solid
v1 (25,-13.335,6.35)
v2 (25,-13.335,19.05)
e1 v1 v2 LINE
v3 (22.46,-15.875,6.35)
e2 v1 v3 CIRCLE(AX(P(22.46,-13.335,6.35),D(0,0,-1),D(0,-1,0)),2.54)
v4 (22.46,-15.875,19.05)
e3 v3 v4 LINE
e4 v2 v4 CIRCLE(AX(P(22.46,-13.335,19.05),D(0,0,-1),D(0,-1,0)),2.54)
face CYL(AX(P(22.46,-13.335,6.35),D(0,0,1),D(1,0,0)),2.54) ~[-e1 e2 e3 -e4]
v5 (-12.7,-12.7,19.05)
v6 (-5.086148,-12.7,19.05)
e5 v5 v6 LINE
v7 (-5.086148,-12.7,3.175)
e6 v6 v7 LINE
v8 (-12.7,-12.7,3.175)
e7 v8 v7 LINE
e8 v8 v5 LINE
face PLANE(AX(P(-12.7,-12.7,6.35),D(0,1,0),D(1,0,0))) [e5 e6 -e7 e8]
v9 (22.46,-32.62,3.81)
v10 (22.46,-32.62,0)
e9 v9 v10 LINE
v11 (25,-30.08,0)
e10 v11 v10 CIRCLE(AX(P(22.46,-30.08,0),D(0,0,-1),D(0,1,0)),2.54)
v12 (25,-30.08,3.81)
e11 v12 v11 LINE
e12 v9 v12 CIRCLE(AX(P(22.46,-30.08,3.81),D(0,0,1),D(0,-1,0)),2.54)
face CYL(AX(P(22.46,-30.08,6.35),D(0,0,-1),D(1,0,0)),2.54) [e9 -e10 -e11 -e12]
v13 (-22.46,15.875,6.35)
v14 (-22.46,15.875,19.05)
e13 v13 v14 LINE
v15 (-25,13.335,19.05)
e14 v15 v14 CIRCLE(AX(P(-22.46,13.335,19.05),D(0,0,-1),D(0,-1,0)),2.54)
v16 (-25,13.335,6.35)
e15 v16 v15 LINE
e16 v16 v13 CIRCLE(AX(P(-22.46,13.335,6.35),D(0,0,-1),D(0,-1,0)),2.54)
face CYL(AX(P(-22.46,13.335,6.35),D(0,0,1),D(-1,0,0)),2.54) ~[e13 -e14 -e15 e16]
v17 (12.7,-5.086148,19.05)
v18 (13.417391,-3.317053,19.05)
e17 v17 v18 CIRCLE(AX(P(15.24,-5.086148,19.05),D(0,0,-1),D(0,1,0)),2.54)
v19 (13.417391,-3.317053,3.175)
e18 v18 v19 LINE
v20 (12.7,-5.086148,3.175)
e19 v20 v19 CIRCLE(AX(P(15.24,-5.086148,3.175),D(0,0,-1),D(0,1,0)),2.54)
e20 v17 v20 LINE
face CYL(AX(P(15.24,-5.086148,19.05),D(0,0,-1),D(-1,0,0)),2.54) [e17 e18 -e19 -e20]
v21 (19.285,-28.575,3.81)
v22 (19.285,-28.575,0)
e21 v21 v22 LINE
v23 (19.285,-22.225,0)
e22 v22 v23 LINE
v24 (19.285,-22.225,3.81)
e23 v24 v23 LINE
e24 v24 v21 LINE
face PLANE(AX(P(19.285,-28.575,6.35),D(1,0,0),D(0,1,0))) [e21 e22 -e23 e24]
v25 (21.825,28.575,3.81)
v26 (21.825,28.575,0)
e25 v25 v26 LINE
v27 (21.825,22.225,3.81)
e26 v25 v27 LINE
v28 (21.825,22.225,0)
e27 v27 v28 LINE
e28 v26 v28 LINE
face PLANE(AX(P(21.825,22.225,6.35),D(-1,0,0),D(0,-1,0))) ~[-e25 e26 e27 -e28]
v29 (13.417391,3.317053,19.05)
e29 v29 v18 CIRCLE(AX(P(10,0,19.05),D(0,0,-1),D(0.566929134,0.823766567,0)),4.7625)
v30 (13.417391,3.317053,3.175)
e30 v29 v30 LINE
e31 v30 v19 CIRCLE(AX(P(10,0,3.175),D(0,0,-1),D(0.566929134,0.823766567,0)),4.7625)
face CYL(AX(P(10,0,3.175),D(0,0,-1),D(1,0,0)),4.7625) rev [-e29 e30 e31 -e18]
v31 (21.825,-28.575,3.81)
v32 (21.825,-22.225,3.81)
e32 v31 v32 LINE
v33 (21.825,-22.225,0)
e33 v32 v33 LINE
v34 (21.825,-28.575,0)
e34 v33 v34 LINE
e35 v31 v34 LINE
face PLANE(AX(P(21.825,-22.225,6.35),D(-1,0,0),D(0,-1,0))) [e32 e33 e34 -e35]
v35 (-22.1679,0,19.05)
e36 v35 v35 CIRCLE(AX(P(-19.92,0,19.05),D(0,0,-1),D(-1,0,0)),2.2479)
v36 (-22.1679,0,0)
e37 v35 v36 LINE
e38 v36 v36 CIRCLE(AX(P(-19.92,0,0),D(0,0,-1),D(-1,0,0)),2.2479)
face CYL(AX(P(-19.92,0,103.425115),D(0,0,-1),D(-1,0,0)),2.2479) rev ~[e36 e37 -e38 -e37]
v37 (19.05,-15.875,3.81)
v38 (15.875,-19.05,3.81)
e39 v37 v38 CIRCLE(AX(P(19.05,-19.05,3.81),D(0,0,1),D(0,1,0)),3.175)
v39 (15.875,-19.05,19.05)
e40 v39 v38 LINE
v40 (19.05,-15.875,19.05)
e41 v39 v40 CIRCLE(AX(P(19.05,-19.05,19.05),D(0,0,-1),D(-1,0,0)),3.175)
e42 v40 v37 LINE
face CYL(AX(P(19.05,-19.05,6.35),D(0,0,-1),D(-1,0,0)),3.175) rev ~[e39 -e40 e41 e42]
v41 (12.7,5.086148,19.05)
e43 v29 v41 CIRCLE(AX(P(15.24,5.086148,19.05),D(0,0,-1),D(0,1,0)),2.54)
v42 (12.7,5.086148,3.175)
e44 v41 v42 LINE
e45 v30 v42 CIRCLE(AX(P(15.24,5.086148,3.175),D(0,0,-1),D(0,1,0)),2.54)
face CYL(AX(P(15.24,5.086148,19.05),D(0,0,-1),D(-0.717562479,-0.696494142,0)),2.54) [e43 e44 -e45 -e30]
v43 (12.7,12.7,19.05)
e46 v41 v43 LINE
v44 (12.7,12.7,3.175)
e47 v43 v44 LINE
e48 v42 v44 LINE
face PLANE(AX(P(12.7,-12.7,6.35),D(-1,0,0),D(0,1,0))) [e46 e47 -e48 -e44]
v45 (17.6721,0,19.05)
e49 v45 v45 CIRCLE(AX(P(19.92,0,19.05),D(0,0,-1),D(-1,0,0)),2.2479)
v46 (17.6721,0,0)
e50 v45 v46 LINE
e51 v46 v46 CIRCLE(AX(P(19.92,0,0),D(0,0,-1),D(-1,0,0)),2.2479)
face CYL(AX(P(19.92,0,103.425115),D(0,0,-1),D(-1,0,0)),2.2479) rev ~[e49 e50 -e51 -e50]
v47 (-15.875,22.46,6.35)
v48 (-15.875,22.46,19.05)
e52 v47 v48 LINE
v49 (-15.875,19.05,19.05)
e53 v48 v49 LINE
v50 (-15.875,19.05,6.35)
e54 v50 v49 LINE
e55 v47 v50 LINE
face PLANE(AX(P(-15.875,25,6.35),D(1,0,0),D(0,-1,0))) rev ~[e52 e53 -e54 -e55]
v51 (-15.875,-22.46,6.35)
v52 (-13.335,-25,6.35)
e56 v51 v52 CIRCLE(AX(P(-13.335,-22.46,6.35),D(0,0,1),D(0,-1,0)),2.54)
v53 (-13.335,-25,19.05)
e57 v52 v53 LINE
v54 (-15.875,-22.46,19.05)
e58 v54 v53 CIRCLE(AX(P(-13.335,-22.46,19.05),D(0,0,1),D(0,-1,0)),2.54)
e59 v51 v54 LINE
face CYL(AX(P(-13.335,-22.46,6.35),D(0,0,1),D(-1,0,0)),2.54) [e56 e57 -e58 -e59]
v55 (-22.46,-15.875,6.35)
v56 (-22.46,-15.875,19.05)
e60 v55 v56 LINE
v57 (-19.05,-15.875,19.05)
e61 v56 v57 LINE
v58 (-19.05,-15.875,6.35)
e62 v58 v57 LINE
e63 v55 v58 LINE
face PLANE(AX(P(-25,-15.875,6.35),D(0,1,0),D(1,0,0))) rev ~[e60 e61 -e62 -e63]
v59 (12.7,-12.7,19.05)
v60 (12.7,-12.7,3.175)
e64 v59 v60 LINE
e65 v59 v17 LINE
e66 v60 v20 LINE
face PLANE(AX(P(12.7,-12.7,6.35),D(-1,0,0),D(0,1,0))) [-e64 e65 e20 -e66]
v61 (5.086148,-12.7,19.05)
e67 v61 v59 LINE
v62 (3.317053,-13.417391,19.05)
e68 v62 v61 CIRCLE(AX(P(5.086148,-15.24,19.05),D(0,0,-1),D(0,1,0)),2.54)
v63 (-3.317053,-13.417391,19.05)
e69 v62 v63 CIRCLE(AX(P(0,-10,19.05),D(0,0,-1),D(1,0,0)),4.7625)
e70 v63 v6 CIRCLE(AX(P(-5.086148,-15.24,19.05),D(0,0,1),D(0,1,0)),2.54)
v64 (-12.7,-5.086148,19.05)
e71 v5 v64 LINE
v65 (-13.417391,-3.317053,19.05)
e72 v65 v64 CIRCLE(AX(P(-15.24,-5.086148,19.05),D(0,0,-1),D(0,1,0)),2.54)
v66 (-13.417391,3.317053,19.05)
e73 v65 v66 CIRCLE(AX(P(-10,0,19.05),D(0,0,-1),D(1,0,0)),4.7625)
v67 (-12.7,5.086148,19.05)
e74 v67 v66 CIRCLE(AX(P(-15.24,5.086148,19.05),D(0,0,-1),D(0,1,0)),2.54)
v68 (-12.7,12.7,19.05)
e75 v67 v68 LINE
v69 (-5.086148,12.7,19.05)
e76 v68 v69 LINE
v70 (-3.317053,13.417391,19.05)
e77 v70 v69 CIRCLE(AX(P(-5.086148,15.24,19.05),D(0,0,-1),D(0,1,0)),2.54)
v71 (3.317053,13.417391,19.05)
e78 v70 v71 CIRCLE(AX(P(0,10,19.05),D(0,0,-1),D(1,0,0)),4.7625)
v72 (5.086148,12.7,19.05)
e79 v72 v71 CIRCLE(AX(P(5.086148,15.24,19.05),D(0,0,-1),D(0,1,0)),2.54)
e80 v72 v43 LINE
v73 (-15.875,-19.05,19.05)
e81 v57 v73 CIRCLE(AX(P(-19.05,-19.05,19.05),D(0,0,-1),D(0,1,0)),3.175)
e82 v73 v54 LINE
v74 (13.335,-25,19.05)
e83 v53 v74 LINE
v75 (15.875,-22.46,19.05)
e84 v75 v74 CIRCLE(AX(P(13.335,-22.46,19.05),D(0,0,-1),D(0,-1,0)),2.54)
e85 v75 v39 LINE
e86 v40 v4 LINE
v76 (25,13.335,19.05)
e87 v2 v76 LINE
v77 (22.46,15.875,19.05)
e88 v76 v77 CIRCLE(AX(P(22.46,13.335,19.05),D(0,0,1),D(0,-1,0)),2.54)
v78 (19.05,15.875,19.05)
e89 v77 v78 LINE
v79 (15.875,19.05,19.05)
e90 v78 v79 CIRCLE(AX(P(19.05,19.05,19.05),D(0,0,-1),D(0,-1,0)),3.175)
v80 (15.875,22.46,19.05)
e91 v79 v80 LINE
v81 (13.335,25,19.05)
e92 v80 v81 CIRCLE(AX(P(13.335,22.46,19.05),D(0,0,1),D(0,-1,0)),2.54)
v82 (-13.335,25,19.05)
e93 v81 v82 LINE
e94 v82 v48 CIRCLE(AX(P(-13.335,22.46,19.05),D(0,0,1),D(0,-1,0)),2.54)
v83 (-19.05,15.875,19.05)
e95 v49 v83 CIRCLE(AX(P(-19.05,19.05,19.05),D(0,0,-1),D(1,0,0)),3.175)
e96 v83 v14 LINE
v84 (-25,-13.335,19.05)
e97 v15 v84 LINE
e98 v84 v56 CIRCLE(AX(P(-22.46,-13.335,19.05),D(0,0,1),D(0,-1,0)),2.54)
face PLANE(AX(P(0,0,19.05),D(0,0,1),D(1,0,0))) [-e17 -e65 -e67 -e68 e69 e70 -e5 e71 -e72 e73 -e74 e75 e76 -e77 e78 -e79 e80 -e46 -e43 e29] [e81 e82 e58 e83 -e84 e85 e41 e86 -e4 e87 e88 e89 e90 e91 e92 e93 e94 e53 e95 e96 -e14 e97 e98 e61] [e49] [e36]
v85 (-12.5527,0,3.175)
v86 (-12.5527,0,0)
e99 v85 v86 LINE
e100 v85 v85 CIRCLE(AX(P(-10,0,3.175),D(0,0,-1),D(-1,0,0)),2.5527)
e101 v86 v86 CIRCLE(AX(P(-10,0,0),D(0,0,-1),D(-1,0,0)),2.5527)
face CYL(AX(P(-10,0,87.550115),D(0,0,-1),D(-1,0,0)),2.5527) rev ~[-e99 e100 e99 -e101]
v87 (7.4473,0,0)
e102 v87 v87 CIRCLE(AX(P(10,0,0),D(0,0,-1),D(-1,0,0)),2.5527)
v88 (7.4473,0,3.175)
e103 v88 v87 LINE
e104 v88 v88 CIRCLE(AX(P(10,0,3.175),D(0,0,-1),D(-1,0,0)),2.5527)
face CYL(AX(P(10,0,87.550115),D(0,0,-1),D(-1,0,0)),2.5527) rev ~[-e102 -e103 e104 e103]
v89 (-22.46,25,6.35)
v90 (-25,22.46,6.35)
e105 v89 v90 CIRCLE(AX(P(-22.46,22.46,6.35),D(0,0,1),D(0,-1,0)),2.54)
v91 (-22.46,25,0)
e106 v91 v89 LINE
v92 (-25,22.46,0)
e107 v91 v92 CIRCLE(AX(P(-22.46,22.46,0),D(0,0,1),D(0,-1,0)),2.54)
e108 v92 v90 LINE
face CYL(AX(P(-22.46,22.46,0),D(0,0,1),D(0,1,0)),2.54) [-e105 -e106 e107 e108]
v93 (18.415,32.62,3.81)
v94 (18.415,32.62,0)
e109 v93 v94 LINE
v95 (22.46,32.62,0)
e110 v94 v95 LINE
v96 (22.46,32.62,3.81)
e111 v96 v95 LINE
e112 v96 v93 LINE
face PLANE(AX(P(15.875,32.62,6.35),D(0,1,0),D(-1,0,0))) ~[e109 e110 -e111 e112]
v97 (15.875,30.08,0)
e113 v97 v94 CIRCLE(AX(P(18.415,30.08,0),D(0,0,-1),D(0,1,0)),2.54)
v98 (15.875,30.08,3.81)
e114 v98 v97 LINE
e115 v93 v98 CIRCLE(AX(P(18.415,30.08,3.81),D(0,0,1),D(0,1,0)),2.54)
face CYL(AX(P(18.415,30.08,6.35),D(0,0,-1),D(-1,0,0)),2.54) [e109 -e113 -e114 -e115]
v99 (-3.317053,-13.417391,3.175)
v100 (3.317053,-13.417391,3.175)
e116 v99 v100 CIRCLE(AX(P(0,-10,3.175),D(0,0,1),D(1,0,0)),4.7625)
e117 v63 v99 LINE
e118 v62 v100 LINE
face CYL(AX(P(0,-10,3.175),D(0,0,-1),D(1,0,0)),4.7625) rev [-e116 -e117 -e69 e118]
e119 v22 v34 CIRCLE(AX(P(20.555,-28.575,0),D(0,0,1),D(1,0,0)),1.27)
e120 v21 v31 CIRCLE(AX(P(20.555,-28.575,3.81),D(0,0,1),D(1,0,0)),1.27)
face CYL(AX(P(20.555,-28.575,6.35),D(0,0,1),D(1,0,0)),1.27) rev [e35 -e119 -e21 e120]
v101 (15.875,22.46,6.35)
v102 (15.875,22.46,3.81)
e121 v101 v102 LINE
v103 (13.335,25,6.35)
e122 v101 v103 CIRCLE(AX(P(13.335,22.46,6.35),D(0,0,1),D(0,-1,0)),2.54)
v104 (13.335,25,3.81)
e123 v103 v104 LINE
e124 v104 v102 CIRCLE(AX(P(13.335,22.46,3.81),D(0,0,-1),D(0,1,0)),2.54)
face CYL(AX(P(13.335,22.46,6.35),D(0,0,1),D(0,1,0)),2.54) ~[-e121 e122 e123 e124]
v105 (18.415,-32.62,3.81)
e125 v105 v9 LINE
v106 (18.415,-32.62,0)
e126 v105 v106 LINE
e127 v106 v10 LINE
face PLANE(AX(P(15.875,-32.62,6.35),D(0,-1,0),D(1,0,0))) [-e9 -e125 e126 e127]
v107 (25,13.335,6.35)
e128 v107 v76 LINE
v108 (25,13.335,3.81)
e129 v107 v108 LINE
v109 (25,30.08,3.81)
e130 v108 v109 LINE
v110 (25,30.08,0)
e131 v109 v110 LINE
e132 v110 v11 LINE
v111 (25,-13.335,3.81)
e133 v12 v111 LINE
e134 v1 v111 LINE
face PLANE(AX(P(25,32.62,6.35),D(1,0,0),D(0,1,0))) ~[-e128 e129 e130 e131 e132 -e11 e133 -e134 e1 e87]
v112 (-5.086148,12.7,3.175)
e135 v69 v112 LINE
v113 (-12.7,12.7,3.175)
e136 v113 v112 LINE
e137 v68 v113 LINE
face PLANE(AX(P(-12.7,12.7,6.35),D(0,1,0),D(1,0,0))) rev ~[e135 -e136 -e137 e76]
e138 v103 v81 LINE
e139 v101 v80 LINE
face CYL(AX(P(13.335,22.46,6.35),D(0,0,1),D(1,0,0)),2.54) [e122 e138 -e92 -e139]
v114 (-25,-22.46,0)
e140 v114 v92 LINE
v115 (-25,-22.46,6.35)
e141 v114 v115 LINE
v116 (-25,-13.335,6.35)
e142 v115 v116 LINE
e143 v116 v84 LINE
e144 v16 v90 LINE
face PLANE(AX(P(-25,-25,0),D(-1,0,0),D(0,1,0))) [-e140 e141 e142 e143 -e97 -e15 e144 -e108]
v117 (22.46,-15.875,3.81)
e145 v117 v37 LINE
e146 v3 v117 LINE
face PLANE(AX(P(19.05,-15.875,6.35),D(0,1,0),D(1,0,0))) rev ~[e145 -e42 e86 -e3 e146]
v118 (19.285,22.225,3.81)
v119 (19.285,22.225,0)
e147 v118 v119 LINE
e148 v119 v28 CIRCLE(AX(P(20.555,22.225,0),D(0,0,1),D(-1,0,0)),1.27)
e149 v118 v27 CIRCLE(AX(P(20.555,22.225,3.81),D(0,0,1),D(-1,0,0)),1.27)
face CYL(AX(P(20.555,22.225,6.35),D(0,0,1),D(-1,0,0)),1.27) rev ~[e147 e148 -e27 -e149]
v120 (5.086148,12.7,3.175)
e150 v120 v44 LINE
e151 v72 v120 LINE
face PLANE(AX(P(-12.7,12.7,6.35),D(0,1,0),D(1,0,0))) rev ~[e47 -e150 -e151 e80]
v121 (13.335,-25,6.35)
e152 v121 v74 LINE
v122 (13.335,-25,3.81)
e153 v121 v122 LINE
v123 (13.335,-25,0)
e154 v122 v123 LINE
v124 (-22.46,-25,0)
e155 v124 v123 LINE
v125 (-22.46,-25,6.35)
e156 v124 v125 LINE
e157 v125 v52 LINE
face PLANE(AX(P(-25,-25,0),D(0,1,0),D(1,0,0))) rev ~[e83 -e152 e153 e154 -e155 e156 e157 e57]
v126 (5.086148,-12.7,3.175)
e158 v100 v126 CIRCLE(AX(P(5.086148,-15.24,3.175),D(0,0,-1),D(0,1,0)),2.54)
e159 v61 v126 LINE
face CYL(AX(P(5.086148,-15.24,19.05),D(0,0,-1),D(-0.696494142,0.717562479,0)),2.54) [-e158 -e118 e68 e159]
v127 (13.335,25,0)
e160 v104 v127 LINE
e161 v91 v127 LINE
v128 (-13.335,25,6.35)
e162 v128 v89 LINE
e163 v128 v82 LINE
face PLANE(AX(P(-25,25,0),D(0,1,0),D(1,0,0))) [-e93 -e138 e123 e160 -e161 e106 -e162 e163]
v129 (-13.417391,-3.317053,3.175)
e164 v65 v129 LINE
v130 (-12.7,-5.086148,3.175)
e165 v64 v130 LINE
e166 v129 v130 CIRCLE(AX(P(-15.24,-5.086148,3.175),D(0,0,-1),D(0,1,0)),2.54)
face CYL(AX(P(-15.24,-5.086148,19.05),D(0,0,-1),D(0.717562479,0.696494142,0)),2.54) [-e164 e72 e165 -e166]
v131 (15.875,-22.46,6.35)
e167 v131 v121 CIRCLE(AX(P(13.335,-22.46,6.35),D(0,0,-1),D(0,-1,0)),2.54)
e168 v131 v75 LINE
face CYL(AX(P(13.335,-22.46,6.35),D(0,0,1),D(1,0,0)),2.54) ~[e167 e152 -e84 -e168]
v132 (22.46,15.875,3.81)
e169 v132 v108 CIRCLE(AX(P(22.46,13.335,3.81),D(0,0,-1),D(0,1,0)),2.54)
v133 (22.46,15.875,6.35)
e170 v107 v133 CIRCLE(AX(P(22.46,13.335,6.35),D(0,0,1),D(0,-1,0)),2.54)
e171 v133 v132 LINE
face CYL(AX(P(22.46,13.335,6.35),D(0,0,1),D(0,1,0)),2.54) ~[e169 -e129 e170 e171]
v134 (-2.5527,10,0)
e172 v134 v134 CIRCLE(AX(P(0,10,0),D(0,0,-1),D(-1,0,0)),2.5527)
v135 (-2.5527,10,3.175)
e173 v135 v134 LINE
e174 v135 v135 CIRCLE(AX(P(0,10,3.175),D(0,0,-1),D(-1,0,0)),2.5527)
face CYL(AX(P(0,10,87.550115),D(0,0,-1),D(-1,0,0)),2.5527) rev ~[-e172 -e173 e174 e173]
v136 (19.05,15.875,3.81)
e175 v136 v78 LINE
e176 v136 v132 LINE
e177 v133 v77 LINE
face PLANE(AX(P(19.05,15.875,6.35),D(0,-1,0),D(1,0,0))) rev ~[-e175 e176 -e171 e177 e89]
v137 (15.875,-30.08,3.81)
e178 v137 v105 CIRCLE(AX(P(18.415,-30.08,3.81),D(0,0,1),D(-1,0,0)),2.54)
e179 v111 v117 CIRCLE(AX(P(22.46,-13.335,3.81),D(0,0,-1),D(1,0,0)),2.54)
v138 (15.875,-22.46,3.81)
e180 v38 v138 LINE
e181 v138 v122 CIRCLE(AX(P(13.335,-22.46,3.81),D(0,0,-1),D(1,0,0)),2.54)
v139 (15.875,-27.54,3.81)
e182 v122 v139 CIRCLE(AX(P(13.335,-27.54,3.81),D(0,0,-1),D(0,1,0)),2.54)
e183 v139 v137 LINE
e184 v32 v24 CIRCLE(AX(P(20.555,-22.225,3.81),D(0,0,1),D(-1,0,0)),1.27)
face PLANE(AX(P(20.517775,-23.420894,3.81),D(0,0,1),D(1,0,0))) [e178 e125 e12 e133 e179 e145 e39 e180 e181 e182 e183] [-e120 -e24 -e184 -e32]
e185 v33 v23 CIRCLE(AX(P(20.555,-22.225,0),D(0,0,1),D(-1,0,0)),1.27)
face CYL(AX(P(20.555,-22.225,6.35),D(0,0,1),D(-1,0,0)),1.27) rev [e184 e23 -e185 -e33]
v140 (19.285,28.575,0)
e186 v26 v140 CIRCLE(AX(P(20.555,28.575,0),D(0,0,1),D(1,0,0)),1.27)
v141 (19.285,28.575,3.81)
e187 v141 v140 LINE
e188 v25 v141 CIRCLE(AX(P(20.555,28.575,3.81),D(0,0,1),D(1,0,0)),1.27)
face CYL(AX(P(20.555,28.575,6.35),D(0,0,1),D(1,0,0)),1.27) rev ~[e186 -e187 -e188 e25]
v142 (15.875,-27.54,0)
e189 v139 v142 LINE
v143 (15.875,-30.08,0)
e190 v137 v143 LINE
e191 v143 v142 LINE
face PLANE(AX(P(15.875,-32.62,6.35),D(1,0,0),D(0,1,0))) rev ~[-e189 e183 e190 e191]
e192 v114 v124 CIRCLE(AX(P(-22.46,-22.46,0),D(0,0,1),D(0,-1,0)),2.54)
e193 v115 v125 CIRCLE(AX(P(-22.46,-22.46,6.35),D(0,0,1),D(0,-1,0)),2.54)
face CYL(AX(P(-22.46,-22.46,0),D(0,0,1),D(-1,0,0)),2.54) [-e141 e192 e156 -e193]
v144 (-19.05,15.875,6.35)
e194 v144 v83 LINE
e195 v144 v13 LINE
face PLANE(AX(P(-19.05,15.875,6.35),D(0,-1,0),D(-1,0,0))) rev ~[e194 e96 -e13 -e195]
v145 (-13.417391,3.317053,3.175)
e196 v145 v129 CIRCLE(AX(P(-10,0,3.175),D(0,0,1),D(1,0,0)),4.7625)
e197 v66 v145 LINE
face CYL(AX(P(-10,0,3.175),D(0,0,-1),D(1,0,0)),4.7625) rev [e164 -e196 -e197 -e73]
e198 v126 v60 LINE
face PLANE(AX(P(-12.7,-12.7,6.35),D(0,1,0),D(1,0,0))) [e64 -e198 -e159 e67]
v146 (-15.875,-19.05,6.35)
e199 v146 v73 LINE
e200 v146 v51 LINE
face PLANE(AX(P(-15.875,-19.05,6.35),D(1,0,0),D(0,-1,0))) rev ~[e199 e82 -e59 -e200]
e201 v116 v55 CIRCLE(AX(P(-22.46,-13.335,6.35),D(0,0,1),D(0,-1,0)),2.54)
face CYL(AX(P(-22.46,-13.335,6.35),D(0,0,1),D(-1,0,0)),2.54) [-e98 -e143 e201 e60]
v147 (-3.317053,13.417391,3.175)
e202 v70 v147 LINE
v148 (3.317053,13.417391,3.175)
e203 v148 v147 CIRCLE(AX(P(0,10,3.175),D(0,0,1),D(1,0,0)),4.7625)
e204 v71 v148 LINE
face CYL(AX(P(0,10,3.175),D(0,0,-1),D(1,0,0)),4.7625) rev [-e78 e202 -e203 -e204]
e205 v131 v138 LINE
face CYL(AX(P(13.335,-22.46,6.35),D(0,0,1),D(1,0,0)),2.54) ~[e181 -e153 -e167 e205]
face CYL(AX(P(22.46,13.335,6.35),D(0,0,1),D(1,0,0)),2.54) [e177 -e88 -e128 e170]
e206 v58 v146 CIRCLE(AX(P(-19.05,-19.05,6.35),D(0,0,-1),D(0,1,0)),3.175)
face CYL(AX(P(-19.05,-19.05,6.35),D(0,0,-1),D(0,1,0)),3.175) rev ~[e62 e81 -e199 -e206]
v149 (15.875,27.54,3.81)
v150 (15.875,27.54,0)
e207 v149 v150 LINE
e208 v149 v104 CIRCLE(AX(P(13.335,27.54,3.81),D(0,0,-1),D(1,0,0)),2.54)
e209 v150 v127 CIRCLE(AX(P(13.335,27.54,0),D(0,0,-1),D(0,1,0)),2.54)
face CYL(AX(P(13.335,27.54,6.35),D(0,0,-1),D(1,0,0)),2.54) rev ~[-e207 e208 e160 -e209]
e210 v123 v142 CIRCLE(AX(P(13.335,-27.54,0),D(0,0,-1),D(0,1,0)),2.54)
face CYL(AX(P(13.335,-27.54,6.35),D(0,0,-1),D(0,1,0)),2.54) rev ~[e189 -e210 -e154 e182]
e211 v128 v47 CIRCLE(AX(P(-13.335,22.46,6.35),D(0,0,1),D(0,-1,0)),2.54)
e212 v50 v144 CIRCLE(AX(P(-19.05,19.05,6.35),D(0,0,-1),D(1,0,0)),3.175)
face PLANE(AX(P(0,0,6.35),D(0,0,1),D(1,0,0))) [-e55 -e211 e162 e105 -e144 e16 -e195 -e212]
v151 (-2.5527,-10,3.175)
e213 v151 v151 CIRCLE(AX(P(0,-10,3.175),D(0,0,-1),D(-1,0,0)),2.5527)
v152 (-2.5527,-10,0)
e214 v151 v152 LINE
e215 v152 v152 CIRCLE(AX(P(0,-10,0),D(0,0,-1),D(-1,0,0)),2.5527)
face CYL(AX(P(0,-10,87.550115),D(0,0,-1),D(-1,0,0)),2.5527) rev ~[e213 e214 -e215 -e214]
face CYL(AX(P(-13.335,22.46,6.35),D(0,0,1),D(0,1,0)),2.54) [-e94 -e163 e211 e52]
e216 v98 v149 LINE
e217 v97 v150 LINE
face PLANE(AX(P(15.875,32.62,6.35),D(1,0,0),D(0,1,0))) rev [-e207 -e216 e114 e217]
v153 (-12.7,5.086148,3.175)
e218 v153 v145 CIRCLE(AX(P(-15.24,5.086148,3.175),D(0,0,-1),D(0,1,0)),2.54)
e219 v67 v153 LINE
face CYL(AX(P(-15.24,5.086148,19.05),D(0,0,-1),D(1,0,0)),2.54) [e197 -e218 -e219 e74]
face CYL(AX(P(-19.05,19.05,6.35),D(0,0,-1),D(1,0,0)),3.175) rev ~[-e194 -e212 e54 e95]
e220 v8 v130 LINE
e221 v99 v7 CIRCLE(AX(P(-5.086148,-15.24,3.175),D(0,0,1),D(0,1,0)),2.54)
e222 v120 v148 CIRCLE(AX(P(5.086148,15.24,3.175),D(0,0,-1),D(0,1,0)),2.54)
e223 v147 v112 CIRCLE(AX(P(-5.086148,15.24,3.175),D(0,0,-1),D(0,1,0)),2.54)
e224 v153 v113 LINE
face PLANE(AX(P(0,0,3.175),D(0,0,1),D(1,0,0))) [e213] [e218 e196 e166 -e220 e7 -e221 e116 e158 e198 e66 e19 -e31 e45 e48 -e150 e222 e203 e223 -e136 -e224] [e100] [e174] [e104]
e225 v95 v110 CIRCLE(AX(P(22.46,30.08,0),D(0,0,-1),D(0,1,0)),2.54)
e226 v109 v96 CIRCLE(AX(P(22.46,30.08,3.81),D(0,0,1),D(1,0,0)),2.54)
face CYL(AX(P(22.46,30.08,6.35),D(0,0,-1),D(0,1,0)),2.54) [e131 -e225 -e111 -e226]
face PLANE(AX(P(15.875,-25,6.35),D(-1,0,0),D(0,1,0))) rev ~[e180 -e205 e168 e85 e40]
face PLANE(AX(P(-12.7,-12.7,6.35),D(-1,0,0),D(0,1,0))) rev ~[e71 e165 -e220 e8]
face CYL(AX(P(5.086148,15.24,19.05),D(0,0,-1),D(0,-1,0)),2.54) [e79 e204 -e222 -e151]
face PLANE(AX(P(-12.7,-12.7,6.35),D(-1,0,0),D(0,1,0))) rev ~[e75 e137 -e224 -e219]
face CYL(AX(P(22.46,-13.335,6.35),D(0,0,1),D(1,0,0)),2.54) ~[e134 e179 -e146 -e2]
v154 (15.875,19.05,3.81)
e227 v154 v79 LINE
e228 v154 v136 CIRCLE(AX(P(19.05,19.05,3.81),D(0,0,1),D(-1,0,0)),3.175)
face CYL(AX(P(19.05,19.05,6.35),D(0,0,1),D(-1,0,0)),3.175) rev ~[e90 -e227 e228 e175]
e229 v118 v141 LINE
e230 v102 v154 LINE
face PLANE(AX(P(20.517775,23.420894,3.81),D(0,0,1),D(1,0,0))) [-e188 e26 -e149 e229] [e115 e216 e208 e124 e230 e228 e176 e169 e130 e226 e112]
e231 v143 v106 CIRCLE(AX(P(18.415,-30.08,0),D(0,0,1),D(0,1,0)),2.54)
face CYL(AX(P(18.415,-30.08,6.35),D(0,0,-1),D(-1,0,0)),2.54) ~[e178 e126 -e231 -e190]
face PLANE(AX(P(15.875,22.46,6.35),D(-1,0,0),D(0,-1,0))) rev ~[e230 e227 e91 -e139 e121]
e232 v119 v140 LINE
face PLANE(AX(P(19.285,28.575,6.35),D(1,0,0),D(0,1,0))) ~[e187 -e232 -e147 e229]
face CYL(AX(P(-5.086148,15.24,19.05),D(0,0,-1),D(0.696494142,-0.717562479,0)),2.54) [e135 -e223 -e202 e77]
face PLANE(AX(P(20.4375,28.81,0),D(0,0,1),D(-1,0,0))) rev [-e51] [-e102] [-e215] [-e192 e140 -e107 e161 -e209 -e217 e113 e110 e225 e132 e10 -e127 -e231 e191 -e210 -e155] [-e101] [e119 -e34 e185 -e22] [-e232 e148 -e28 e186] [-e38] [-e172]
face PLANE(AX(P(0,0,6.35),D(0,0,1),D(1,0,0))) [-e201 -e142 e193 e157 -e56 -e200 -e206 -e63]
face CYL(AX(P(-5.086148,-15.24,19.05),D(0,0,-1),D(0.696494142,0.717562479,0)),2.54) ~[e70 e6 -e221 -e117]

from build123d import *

# Parameters (mm, degrees)
SKETCH1_W              = 50
SKETCH1_H              = 50
BOSS_EXTRUDE1_DEPTH    = 6.35
SKETCH6_W              = 25.4
SKETCH6_H              = 25.4
BOSS_EXTRUDE3_DEPTH    = 12.7
SKETCH10_W             = 25.4
SKETCH10_H             = 25.4
CUT_EXTRUDE2_DEPTH     = 15.875
FILLET3_R              = 2.54
SKETCH11_W             = 9.125
SKETCH11_H             = 7.62
BOSS_EXTRUDE4_DEPTH    = 6.35
FILLET4_R              = 2.54
CUT_EXTRUDE3_DEPTH     = 7.35
FILLET4_OF_MIRROR1_R   = 2.54
FILLET5_R              = 2.54
CUT_EXTRUDE4_DEPTH     = 2.54
SKETCH14_R             = 4.7625
CUT_EXTRUDE5_DEPTH     = 16.875
FILLET6_R              = 2.54
F_10_CLEARANCE_HOLE1_D = 5.1054
F_8_CLEARANCE_HOLE1_D  = 4.4958


with BuildPart() as part:
    # Sketch1 → Boss-Extrude1 (new body)
    with BuildSketch(Plane.XY):
        Rectangle(SKETCH1_W, SKETCH1_H)
    extrude(amount=BOSS_EXTRUDE1_DEPTH)

    # Sketch6 → Boss-Extrude3 (add)
    with BuildSketch(Plane.XY.offset(6.35)):
        with BuildLine():
            Line((15.875, 19.05), (15.875, 25))
            Line((15.875, 25), (-15.875, 25))
            Line((-15.875, 25), (-15.875, 19.05))
            ThreePointArc((-15.875, 19.05), (-16.80493597, 16.80493597), (-19.05, 15.875))
            Line((-19.05, 15.875), (-25, 15.875))
            Line((-25, 15.875), (-25, -15.875))
            Line((-25, -15.875), (-19.05, -15.875))
            ThreePointArc((-19.05, -15.875), (-16.80493597, -16.80493597), (-15.875, -19.05))
            Line((-15.875, -19.05), (-15.875, -25))
            Line((-15.875, -25), (15.875, -25))
            Line((15.875, -25), (15.875, -19.05))
            ThreePointArc((15.875, -19.05), (16.80493597, -16.80493597), (19.05, -15.875))
            Line((19.05, -15.875), (25, -15.875))
            Line((25, -15.875), (25, 15.875))
            Line((25, 15.875), (19.05, 15.875))
            ThreePointArc((19.05, 15.875), (16.80493597, 16.80493597), (15.875, 19.05))
        make_face()
        Rectangle(SKETCH6_W, SKETCH6_H, mode=Mode.SUBTRACT)
    extrude(amount=BOSS_EXTRUDE3_DEPTH)

    # Sketch10 → Cut-Extrude2 (cut)
    with BuildSketch(Plane.XY.offset(19.05)):
        Rectangle(SKETCH10_W, SKETCH10_H)
    extrude(amount=-CUT_EXTRUDE2_DEPTH, mode=Mode.SUBTRACT)

    # Fillet3
    fillet3_edges = [part.edges().sort_by_distance(p)[0] for p in [
        (-15.875, -25, 12.7),
        (15.875, -25, 12.7),
        (25, -15.875, 12.7),
        (25, 15.875, 12.7),
        (15.875, 25, 12.7),
        (-15.875, 25, 12.7),
        (-25, 15.875, 12.7),
        (-25, -15.875, 12.7),
    ]]
    fillet(fillet3_edges, radius=FILLET3_R)

    # Sketch11 → Boss-Extrude4 (add)
    with BuildSketch(Plane.XY.offset(6.35)):
        with Locations((20.4375, -28.81)):
            Rectangle(SKETCH11_W, SKETCH11_H)
    boss_extrude4 = extrude(amount=-BOSS_EXTRUDE4_DEPTH)

    # Fillet4
    fillet4_edges = [part.edges().sort_by_distance(p)[0] for p in [
        (25, -32.62, 3.175),
        (15.875, -32.62, 3.175),
    ]]
    fillet(fillet4_edges, radius=FILLET4_R)

    # Sketch12 → Cut-Extrude3 (cut, through all)
    with BuildSketch(Plane.XY.offset(6.35)):
        with BuildLine():
            Line((19.285, -28.575), (19.285, -22.225))
            ThreePointArc((19.285, -22.225), (20.555, -20.955), (21.825, -22.225))
            Line((21.825, -22.225), (21.825, -28.575))
            ThreePointArc((21.825, -28.575), (20.555, -29.845), (19.285, -28.575))
        make_face()
    cut_extrude3 = extrude(amount=-CUT_EXTRUDE3_DEPTH, mode=Mode.SUBTRACT)

    # Mirror1: Boss-Extrude4, Cut-Extrude3 across plane
    add(boss_extrude4.mirror(Plane.ZX))
    add(cut_extrude3.mirror(Plane.ZX), mode=Mode.SUBTRACT)

    # Fillet4 of Mirror1
    fillet4_of_mirror1_edges = [part.edges().sort_by_distance(p)[0] for p in [
        (25, 32.62, 3.175),
        (15.875, 32.62, 3.175),
    ]]
    fillet(fillet4_of_mirror1_edges, radius=FILLET4_OF_MIRROR1_R)

    # Fillet5
    fillet5_edges = [part.edges().sort_by_distance(p)[0] for p in [
        (15.875, -25, 3.175),
        (15.875, 25, 3.175),
        (-25, 25, 3.175),
        (-25, -25, 3.175),
    ]]
    fillet(fillet5_edges, radius=FILLET5_R)

    # Sketch13 → Cut-Extrude4 (cut)
    with BuildSketch(Plane.XY.offset(6.35)):
        with BuildLine():
            Line((22.46, 32.62), (18.415, 32.62))
            ThreePointArc((18.415, 32.62), (16.618948776, 31.876051224), (15.875, 30.08))
            Line((15.875, 30.08), (15.875, 27.54))
            ThreePointArc((15.875, 27.54), (15.131051224, 25.743948776), (13.335, 25))
            ThreePointArc((13.335, 25), (15.131051224, 24.256051224), (15.875, 22.46))
            Line((15.875, 22.46), (15.875, 19.05))
            ThreePointArc((15.875, 19.05), (16.80493597, 16.80493597), (19.05, 15.875))
            Line((19.05, 15.875), (22.46, 15.875))
            ThreePointArc((22.46, 15.875), (24.256051224, 15.131051224), (25, 13.335))
            Line((25, 13.335), (25, 30.08))
            ThreePointArc((25, 30.08), (24.256051224, 31.876051224), (22.46, 32.62))
        make_face()
        with BuildLine():
            Line((15.875, -27.54), (15.875, -30.08))
            ThreePointArc((15.875, -30.08), (16.618948776, -31.876051224), (18.415, -32.62))
            Line((18.415, -32.62), (22.46, -32.62))
            ThreePointArc((22.46, -32.62), (24.256051224, -31.876051224), (25, -30.08))
            Line((25, -30.08), (25, -13.335))
            ThreePointArc((25, -13.335), (24.256051224, -15.131051224), (22.46, -15.875))
            Line((22.46, -15.875), (19.05, -15.875))
            ThreePointArc((19.05, -15.875), (16.80493597, -16.80493597), (15.875, -19.05))
            Line((15.875, -19.05), (15.875, -22.46))
            ThreePointArc((15.875, -22.46), (15.131051224, -24.256051224), (13.335, -25))
            ThreePointArc((13.335, -25), (15.131051224, -25.743948776), (15.875, -27.54))
        make_face()
    extrude(amount=-CUT_EXTRUDE4_DEPTH, mode=Mode.SUBTRACT)

    # Sketch14 → Cut-Extrude5 (cut, through all)
    with BuildSketch(Plane.XY.offset(3.175)):
        with Locations((-10, 0)):
            Circle(SKETCH14_R)
        with Locations((0, -10)):
            Circle(SKETCH14_R)
        with Locations((10, 0)):
            Circle(SKETCH14_R)
        with Locations((0, 10)):
            Circle(SKETCH14_R)
    extrude(amount=CUT_EXTRUDE5_DEPTH, mode=Mode.SUBTRACT)

    # Fillet6
    fillet6_edges = [part.edges().sort_by_distance(p)[0] for p in [
        (-12.7, 3.923188276, 11.1125),
        (-12.7, -3.923188276, 11.1125),
        (-3.923188276, -12.7, 11.1125),
        (3.923188276, -12.7, 11.1125),
        (12.7, 3.923188276, 11.1125),
        (12.7, -3.923188276, 11.1125),
        (-3.923188276, 12.7, 11.1125),
        (3.923188276, 12.7, 11.1125),
    ]]
    fillet(fillet6_edges, radius=FILLET6_R)

    # #10 Clearance Hole1 (through all)
    with Locations(Plane.XY.offset(3.175)):
        with Locations((-10, 0), (0, 10), (10, 0), (0, -10)):
            Hole(F_10_CLEARANCE_HOLE1_D / 2)

    # #8 Clearance Hole1 (through all)
    with Locations(Plane.XY.offset(19.05)):
        with Locations((-19.92, 0), (19.92, 0)):
            Hole(F_8_CLEARANCE_HOLE1_D / 2)


solid = part.part
